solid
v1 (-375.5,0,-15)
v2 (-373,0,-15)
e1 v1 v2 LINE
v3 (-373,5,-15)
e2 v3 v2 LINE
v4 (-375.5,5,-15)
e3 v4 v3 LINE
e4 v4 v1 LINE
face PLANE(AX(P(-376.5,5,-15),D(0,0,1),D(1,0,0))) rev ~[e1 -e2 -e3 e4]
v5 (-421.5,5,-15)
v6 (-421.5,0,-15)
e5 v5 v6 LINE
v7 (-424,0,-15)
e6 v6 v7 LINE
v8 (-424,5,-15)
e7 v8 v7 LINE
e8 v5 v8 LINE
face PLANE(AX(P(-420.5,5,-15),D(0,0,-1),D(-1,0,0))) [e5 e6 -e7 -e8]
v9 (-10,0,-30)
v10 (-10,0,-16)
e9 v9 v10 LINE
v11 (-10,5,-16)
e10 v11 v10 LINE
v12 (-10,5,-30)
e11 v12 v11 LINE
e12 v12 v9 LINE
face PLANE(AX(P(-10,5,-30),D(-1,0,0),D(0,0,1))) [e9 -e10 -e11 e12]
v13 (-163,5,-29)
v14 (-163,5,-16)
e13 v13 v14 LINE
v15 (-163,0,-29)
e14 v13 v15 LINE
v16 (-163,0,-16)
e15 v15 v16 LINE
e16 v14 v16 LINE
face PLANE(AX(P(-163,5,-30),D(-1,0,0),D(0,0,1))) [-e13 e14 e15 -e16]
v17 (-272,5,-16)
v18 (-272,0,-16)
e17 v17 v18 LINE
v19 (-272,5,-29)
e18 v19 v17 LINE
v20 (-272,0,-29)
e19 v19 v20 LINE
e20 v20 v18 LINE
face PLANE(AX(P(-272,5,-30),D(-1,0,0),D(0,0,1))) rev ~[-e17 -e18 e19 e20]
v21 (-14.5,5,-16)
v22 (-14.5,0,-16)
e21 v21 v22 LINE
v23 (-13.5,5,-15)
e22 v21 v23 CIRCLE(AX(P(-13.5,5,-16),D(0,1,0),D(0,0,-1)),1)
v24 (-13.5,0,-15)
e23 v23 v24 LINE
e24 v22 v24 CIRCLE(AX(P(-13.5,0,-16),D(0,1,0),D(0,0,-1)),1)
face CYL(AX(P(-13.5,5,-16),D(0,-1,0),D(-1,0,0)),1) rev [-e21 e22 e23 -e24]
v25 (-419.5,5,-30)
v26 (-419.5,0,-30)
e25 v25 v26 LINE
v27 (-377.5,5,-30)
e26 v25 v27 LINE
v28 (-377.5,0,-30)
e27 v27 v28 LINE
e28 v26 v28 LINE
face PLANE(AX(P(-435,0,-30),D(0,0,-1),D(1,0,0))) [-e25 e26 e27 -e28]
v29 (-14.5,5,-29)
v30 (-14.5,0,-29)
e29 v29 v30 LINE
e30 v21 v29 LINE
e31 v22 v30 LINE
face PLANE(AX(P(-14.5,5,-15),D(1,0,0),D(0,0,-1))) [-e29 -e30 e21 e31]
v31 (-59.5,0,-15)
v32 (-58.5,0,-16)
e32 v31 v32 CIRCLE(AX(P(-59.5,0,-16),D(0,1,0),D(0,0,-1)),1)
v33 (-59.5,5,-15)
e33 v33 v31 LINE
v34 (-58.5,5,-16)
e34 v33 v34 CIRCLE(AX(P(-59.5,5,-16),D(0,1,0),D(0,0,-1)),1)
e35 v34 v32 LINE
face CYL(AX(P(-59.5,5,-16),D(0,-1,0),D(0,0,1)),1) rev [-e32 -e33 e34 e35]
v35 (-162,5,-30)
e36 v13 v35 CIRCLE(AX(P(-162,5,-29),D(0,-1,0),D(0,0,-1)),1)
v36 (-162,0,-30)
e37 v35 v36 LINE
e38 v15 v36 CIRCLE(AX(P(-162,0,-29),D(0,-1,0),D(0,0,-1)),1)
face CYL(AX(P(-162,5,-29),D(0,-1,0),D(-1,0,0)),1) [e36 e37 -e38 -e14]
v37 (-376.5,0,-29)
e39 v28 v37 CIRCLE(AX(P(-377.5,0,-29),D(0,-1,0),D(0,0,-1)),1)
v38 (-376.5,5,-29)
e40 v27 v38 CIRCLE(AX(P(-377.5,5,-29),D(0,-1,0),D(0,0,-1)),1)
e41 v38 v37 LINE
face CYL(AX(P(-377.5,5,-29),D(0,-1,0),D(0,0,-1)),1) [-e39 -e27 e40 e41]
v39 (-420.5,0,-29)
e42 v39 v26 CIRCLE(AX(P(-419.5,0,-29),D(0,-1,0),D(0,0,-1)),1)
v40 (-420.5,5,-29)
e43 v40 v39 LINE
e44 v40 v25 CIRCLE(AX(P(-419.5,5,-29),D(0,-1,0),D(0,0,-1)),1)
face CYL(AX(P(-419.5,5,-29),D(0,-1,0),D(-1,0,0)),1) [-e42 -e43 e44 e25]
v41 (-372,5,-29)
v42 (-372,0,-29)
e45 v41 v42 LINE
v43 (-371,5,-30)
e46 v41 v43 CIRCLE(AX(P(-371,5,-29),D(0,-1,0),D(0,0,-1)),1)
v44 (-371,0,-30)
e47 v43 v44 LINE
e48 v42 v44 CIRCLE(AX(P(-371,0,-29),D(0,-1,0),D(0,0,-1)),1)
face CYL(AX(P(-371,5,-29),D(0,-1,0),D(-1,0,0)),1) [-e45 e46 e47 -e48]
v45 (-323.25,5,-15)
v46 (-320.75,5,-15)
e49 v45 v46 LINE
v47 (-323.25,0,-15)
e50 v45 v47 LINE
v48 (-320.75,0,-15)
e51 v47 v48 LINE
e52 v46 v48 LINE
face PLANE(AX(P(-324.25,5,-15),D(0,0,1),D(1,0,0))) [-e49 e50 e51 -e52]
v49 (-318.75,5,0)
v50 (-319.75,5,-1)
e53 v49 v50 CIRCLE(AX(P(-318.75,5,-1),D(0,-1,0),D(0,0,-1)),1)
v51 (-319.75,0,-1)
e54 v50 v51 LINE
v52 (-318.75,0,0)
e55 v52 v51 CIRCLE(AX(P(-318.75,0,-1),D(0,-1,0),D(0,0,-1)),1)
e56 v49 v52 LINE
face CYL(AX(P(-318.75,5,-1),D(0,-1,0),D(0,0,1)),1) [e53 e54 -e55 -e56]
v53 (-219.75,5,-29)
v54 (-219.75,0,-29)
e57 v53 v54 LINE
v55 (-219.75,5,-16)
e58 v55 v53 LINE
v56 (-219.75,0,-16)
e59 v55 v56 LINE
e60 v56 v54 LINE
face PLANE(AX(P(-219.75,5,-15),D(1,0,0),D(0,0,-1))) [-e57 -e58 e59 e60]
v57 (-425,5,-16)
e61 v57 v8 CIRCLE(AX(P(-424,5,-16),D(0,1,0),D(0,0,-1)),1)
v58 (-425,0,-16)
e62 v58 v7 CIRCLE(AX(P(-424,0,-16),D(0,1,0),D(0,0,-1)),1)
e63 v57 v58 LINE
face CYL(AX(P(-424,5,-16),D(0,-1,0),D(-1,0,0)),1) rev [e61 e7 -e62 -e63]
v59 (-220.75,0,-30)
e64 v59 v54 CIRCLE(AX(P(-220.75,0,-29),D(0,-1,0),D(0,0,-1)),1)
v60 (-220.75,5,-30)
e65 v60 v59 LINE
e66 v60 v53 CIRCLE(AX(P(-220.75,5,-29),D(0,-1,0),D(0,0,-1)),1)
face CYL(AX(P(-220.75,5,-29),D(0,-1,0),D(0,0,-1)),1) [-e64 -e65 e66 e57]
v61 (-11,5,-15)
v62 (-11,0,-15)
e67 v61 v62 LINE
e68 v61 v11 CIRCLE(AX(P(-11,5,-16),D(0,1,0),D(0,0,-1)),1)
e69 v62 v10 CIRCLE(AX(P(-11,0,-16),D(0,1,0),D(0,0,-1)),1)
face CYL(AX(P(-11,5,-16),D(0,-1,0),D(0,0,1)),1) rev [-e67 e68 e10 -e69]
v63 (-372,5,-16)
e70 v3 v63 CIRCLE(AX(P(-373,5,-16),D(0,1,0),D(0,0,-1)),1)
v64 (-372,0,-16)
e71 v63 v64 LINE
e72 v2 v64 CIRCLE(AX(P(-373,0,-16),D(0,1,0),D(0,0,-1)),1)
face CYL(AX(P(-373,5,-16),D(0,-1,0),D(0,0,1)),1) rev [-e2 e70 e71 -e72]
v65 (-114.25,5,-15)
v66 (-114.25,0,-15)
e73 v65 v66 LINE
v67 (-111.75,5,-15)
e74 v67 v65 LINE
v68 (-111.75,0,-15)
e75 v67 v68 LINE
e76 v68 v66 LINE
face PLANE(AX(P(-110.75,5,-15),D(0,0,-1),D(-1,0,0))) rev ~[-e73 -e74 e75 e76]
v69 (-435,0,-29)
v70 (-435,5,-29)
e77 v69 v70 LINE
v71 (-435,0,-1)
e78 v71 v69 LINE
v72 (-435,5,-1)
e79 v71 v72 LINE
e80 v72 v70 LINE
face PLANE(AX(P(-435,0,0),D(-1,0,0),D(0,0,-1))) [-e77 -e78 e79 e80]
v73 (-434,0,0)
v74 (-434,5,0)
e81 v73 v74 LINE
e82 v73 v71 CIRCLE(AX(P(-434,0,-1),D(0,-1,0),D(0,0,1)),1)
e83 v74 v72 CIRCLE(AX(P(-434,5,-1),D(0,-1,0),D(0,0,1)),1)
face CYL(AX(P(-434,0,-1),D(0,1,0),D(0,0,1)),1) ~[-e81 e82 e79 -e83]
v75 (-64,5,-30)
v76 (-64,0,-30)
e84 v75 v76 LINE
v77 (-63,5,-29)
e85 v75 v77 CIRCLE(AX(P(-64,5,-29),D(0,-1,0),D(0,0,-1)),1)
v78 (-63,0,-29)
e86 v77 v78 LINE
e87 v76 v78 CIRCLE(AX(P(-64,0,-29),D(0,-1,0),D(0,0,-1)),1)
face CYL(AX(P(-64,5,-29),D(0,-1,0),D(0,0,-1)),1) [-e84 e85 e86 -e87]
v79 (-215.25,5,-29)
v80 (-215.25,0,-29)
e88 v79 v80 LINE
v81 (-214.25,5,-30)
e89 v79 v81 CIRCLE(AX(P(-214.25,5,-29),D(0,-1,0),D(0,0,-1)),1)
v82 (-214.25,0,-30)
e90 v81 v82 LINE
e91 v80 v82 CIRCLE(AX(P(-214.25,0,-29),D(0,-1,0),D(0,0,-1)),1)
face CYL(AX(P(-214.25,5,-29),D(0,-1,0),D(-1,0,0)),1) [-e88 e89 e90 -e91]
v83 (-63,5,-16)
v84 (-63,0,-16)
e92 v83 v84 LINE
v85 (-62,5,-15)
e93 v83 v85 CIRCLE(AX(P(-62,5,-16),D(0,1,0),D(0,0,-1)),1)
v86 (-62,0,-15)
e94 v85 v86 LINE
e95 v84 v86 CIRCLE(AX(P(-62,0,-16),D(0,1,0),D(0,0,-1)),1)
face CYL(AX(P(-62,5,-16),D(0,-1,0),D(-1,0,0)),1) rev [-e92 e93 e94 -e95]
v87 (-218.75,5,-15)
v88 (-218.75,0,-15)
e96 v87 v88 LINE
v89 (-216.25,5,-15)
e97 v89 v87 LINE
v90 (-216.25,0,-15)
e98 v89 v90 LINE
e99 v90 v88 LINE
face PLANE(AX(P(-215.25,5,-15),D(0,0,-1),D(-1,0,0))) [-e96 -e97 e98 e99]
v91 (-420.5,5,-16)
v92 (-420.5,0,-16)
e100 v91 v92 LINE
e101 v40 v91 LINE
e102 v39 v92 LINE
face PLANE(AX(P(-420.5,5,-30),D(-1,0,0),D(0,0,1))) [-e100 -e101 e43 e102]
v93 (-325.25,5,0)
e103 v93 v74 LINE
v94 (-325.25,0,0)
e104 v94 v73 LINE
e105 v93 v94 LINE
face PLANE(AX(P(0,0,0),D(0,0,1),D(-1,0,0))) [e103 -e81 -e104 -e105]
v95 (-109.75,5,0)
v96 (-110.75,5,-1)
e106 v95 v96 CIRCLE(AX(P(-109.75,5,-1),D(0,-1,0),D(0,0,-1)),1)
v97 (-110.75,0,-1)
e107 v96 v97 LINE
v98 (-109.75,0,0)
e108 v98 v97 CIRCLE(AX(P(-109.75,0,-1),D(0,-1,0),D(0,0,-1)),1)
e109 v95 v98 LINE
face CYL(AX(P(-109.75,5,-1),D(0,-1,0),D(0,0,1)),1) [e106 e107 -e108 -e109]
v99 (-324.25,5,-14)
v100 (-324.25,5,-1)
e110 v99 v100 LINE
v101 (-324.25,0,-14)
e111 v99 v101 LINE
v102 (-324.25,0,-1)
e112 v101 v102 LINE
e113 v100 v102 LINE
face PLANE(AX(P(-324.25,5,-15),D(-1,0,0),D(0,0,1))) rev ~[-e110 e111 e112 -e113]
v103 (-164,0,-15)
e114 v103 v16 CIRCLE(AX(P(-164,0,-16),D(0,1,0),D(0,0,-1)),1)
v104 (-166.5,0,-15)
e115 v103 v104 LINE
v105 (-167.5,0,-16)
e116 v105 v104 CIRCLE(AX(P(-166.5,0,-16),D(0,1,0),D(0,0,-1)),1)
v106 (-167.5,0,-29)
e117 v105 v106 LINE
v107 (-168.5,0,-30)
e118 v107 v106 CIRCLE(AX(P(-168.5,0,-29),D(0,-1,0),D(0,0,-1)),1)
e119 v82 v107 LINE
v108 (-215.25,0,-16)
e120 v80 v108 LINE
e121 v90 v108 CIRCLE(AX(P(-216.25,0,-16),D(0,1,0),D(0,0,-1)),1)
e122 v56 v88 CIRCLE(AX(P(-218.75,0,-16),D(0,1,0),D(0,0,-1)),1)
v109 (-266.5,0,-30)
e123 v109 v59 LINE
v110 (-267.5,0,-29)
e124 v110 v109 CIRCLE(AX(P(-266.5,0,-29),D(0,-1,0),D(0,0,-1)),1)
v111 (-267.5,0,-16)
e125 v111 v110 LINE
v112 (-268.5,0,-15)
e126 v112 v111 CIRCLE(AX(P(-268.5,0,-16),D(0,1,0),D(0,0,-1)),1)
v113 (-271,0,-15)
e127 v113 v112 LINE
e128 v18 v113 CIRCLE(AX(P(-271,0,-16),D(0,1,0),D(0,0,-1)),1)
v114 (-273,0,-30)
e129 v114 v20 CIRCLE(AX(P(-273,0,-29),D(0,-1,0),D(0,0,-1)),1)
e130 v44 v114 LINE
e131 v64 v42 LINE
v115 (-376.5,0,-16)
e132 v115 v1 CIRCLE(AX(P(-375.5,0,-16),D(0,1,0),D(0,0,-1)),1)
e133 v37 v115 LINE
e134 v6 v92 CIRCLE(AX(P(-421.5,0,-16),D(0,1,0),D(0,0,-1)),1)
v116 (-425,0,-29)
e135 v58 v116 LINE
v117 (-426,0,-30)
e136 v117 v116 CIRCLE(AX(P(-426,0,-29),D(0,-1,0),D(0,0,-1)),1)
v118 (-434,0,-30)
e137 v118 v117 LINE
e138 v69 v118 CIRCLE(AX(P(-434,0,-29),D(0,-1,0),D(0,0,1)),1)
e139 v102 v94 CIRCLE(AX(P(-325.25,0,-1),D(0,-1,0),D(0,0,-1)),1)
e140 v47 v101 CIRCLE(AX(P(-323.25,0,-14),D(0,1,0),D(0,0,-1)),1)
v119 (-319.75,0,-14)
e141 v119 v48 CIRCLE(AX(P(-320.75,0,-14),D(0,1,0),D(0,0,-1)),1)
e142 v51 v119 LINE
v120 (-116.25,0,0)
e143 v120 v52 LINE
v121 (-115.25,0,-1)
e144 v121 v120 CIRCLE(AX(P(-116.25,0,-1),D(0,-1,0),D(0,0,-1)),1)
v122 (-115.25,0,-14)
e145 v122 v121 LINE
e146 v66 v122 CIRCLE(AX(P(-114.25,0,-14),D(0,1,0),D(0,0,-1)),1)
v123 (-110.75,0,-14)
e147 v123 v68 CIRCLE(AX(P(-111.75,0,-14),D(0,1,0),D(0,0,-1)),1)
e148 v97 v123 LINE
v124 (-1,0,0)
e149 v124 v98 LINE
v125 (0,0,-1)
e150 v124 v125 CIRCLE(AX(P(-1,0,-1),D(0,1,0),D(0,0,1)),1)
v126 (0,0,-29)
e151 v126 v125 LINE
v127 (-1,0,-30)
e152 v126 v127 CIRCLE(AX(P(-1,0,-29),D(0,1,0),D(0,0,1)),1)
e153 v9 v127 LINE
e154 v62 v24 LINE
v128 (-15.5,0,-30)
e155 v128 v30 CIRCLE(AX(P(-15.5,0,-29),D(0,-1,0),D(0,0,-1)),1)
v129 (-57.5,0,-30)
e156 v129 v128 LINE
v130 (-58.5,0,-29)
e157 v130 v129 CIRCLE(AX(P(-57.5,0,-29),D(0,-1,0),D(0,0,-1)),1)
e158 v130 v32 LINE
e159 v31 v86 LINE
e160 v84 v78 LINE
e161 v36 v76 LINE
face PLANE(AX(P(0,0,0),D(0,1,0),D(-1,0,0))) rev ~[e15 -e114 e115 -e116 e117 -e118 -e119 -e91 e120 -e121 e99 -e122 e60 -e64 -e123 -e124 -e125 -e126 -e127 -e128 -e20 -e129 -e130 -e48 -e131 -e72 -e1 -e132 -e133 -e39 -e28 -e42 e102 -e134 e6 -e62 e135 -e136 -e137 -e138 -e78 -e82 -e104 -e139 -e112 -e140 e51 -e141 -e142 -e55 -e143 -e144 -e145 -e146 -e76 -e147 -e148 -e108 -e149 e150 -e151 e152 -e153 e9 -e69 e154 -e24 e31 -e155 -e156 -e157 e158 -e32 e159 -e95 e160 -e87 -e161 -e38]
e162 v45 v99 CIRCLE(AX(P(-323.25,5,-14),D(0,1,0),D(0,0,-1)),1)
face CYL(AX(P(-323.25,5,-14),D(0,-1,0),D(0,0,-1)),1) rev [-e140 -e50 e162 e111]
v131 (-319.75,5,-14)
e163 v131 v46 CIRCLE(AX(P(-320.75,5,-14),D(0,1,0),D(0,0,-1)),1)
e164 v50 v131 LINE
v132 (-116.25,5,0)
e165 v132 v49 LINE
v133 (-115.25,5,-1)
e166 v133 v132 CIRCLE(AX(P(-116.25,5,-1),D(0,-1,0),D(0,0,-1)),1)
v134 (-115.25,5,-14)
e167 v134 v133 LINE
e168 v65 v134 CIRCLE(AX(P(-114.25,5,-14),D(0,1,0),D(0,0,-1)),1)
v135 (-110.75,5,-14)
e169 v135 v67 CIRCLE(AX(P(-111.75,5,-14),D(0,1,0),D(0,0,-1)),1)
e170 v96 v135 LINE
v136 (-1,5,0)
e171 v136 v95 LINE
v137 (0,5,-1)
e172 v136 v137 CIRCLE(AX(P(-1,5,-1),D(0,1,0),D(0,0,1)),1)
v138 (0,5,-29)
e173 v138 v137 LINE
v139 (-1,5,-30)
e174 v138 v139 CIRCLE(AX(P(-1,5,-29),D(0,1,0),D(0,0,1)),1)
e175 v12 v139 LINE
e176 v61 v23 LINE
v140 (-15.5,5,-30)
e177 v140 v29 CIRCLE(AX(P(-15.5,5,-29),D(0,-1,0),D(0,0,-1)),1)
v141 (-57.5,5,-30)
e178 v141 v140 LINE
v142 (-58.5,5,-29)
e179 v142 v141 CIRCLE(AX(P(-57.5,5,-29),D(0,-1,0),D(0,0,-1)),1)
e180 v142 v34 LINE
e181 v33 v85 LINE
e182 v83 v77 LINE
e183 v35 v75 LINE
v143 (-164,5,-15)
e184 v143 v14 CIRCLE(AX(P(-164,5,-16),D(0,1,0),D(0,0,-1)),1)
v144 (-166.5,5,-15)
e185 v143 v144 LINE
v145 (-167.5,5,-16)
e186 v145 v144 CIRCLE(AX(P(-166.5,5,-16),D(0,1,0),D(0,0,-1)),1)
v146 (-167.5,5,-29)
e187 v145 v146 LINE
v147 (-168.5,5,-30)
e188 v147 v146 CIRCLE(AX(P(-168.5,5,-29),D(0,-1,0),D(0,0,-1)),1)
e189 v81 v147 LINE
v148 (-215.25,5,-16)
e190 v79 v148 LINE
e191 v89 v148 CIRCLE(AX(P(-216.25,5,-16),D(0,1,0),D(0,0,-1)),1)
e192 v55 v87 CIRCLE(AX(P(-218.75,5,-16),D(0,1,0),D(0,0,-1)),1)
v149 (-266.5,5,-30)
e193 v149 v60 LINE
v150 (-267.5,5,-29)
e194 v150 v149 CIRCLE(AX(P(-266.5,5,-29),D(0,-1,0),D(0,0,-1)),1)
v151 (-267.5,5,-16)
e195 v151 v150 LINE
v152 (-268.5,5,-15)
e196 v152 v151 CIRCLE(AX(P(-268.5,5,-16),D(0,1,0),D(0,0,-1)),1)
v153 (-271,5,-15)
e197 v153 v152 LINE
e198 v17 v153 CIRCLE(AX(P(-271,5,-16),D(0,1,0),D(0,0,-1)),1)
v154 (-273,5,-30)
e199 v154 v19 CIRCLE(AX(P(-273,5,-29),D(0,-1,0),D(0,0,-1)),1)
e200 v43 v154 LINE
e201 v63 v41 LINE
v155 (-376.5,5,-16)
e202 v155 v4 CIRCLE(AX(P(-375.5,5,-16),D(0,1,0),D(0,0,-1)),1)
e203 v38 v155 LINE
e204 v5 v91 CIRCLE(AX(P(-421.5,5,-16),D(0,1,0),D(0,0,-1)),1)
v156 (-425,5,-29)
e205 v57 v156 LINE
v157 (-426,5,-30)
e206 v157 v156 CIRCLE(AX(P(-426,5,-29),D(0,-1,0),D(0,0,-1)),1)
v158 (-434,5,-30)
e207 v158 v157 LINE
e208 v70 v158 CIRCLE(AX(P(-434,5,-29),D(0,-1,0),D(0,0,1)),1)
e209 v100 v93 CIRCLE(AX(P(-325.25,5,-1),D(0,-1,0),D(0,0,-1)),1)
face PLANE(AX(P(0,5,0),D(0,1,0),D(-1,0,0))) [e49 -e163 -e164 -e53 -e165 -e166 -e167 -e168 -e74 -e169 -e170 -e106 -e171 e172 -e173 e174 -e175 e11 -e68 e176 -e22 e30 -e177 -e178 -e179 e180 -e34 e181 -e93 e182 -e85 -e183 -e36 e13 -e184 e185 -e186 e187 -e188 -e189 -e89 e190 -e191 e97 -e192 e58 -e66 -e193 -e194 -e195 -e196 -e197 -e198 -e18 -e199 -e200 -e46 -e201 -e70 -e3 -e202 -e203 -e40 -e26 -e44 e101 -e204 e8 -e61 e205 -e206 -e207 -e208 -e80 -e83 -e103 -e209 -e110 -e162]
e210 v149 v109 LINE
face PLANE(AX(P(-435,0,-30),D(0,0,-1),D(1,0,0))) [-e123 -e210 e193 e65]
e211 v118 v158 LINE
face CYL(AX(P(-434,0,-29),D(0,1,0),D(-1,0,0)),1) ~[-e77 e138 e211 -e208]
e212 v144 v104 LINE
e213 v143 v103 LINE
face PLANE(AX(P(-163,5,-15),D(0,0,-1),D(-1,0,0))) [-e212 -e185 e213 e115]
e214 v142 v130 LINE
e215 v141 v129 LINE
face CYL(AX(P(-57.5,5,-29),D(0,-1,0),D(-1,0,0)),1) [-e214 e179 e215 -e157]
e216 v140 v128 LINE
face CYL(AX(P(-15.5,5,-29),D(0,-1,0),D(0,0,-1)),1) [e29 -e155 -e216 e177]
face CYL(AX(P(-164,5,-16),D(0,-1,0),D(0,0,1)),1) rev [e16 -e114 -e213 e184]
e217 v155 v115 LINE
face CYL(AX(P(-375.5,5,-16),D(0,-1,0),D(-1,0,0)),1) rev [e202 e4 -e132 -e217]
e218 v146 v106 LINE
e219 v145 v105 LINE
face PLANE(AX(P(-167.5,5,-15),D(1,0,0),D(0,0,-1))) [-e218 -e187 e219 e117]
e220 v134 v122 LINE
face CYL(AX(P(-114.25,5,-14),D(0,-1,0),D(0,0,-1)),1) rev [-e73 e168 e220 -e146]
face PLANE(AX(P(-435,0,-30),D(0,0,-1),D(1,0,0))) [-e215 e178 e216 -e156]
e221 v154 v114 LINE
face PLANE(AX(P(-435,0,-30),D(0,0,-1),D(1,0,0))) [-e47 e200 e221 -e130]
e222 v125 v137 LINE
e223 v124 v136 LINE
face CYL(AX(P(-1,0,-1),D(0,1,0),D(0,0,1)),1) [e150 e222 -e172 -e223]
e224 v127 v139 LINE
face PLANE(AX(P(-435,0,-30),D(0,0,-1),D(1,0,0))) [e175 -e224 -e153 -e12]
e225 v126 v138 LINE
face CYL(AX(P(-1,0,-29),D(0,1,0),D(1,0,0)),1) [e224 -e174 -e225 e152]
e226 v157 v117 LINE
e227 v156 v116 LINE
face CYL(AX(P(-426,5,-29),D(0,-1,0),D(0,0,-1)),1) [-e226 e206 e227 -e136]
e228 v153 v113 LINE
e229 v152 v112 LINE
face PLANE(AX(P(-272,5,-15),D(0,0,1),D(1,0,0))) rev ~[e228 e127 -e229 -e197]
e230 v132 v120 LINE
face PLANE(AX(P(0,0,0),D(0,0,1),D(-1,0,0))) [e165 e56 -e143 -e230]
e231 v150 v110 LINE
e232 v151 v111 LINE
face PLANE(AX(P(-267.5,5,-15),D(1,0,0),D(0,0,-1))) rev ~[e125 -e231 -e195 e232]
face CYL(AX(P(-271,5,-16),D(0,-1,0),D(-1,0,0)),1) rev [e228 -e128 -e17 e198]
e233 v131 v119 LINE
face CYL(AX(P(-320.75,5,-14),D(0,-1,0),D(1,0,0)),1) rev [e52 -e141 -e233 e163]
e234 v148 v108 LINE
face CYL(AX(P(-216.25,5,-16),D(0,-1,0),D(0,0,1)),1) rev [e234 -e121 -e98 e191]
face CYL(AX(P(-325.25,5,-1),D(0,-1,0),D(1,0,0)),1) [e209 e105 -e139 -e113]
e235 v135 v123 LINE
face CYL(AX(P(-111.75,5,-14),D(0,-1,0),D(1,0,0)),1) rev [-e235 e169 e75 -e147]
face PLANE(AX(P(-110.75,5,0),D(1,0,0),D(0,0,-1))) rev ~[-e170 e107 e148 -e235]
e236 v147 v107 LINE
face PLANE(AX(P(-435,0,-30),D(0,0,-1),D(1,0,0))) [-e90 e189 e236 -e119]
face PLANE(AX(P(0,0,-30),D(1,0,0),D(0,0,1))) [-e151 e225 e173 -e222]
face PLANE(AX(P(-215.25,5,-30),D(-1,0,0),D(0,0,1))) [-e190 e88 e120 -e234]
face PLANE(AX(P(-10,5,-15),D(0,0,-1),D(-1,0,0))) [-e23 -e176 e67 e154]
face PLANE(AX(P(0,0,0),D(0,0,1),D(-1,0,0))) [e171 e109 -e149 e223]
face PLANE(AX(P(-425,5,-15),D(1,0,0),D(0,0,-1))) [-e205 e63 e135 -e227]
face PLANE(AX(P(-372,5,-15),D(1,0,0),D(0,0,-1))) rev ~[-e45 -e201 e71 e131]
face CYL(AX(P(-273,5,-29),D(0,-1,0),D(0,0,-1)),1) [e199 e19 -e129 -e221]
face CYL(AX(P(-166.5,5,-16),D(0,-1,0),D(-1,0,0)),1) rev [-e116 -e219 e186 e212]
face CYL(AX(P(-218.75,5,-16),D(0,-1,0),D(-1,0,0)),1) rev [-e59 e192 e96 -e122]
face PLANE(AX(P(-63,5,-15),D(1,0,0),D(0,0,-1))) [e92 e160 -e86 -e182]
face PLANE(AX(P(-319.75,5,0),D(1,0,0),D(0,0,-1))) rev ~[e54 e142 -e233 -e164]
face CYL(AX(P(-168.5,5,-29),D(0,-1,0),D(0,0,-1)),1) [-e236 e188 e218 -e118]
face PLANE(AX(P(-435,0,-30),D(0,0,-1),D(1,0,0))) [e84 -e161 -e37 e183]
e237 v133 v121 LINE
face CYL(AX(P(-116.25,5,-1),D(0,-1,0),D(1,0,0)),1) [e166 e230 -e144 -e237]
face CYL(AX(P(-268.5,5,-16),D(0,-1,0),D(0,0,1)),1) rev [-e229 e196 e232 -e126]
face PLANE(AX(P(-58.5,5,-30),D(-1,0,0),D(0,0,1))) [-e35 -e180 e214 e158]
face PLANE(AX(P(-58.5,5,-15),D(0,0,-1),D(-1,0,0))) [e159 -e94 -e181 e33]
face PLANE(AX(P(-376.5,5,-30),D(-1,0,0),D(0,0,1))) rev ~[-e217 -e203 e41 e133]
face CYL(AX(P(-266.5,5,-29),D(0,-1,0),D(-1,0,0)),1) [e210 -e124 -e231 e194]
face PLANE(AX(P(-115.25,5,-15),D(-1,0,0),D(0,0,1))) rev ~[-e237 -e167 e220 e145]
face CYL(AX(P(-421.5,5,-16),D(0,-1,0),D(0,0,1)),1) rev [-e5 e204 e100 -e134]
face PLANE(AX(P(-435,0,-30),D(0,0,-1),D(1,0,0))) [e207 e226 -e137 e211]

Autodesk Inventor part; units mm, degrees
ref_plane "YZ Plane" through (0, 0, 0) normal (1, 0, 0) x (0, 1, 0)
ref_plane "XZ Plane" through (0, 0, 0) normal (0, 1, 0) x (-1, 0, 0)
ref_plane "XY Plane" through (0, 0, 0) normal (0, 0, 1) x (1, 0, 0)
sketch "Sketch1" plane through (0, 0, 0) normal (0, 1, 0) x (-1, 0, 0)
  line L0 (0, 0) -> (435, 0)
  line L1 (435, 0) -> (435, -30)
  line L2 (435, -30) -> (0, -30)
  line L3 (0, -30) -> (0, 0)
  dimension "d0" = 435
  dimension "d1" = 30
extrude "Extrusion1" add sketch "Sketch1" along normal blind 5
sketch "Sketch2" plane through (0, 5, 0) normal (0, 1, 0) x (1, 0, 0)
  line L0 (0, 30) -> (-435, 30) projected
  line L1 (-435, 30) -> (-425, 30)
  line L2 (-425, 30) -> (-420.5, 30)
  line L3 (-420.5, 30) -> (-420.5, 15)
  line L4 (-420.5, 15) -> (-425, 15)
  line L5 (-425, 15) -> (-425, 30)
  line L6 (-420.5, 30) -> (-219.75, 30)
  line L7 (-219.75, 30) -> (-215.25, 30)
  line L8 (-215.25, 30) -> (-215.25, 15)
  line L9 (-215.25, 15) -> (-219.75, 15)
  line L10 (-219.75, 15) -> (-219.75, 30)
  line L11 (-215.25, 30) -> (-14.5, 30)
  line L12 (-14.5, 30) -> (-10, 30)
  line L13 (-10, 30) -> (-10, 15)
  line L14 (-10, 15) -> (-14.5, 15)
  line L15 (-14.5, 15) -> (-14.5, 30)
  point P0 (0, 0)
  dimension "d4" = 10
  dimension "d5" = 4.5
  dimension "d6" = 15
  dimension "d7" = 200.75
  dimension "d8" = 4.5
  dimension "d9" = 15
  dimension "d10" = 200.75
  dimension "d11" = 4.5
  dimension "d12" = 15
extrude "Extrusion2" cut sketch "Sketch2" against normal blind 5
sketch "Sketch6" plane through (0, 5, 0) normal (0, 1, 0) x (1, 0, 0)
  line L0 (-14.5, 30) -> (-14.5, 15) projected
  line L1 (-14.5, 15) -> (-58.5, 15)
  line L2 (-14.5, 30) -> (-215.25, 30) projected
  line L3 (-58.5, 15) -> (-63, 15)
  line L4 (-63, 15) -> (-63, 30)
  line L5 (-63, 30) -> (-58.5, 30)
  line L6 (-58.5, 30) -> (-58.5, 15)
  line L7 (-63, 15) -> (-110.75, 15)
  line L8 (-110.75, 15) -> (-115.25, 15)
  line L9 (-115.25, 15) -> (-115.25, 30)
  line L10 (-115.25, 30) -> (-110.75, 30)
  line L11 (-110.75, 30) -> (-110.75, 15)
  line L12 (-115.25, 15) -> (-163, 15)
  line L13 (-163, 15) -> (-167.5, 15)
  line L14 (-167.5, 15) -> (-167.5, 30)
  line L15 (-167.5, 30) -> (-163, 30)
  line L16 (-163, 30) -> (-163, 15)
  line L17 (-435, 0) -> (0, 0) projected
  line L18 (-217.5, 0) -> (-217.5, 47.2454)
  line L19 (-376.5, 15) -> (-372, 15)
  line L20 (-372, 15) -> (-372, 30)
  line L21 (-372, 30) -> (-376.5, 30)
  line L22 (-376.5, 30) -> (-376.5, 15)
  line L23 (-372, 15) -> (-324.25, 15)
  line L24 (-324.25, 15) -> (-319.75, 15)
  line L25 (-319.75, 15) -> (-319.75, 30)
  line L26 (-319.75, 30) -> (-324.25, 30)
  line L27 (-324.25, 30) -> (-324.25, 15)
  line L28 (-319.75, 15) -> (-272, 15)
  line L29 (-272, 15) -> (-267.5, 15)
  line L30 (-267.5, 15) -> (-267.5, 30)
  line L31 (-267.5, 30) -> (-272, 30)
  line L32 (-272, 30) -> (-272, 15)
  line L33 (-110.75, 15) -> (-115.25, 15)
  line L34 (-115.25, 15) -> (-115.25, 0)
  line L35 (-115.25, 0) -> (-110.75, 0)
  line L36 (-110.75, 0) -> (-110.75, 15)
  line L37 (-319.75, 15) -> (-324.25, 15)
  line L38 (-324.25, 15) -> (-324.25, 0)
  line L39 (-324.25, 0) -> (-319.75, 0)
  line L40 (-319.75, 0) -> (-319.75, 15)
  dimension "d40" = 44
  dimension "d41" = 4.5
  dimension "d42" = 47.75
  dimension "d43" = 4.5
  dimension "d44" = 47.75
  dimension "d45" = 4.5
  dimension "d48" = 15
  dimension "d49" = 4.5
  dimension "d50" = 106.75
extrude "Extrusion6" cut sketch "Sketch6" against normal blind 5 contours L19 L22 L21 L20 | L32 L31 L30 L29 | L17 L38 L24 L40 | L6 L3 L4 L2 | L36 L17 L34 L8 | L16 L13 L14 L2
fillet "Fillet2" radius 1 39 edges at (0, 2.5, -30) (-10, 2.5, -15) (-14.5, 2.5, -15) (-14.5, 2.5, -30) (0, 2.5, 0) (-110.75, 2.5, 0) (-115.25, 2.5, 0) (-115.25, 2.5, -15) (-110.75, 2.5, -15) (-63, 2.5, -15) (-58.5, 2.5, -15) (-58.5, 2.5, -30) (-63, 2.5, -30) (-163, 2.5, -15) (-167.5, 2.5, -15) (-163, 2.5, -30) (-167.5, 2.5, -30) (-219.75, 2.5, -30) (-215.25, 2.5, -30) (-215.25, 2.5, -15) (-219.75, 2.5, -15) (-267.5, 2.5, -15) (-272, 2.5, -15) (-272, 2.5, -30) (-267.5, 2.5, -30) (-319.75, 2.5, 0) (-324.25, 2.5, 0) (-324.25, 2.5, -15) (-319.75, 2.5, -15) (-376.5, 2.5, -30) (-376.5, 2.5, -15) (-372, 2.5, -15) (-372, 2.5, -30) (-420.5, 2.5, -30) (-425, 2.5, -30) (-420.5, 2.5, -15) (-425, 2.5, -15) (-435, 2.5, 0) (-435, 2.5, -30)
properties part number "slats" material "Foam Core Board"
